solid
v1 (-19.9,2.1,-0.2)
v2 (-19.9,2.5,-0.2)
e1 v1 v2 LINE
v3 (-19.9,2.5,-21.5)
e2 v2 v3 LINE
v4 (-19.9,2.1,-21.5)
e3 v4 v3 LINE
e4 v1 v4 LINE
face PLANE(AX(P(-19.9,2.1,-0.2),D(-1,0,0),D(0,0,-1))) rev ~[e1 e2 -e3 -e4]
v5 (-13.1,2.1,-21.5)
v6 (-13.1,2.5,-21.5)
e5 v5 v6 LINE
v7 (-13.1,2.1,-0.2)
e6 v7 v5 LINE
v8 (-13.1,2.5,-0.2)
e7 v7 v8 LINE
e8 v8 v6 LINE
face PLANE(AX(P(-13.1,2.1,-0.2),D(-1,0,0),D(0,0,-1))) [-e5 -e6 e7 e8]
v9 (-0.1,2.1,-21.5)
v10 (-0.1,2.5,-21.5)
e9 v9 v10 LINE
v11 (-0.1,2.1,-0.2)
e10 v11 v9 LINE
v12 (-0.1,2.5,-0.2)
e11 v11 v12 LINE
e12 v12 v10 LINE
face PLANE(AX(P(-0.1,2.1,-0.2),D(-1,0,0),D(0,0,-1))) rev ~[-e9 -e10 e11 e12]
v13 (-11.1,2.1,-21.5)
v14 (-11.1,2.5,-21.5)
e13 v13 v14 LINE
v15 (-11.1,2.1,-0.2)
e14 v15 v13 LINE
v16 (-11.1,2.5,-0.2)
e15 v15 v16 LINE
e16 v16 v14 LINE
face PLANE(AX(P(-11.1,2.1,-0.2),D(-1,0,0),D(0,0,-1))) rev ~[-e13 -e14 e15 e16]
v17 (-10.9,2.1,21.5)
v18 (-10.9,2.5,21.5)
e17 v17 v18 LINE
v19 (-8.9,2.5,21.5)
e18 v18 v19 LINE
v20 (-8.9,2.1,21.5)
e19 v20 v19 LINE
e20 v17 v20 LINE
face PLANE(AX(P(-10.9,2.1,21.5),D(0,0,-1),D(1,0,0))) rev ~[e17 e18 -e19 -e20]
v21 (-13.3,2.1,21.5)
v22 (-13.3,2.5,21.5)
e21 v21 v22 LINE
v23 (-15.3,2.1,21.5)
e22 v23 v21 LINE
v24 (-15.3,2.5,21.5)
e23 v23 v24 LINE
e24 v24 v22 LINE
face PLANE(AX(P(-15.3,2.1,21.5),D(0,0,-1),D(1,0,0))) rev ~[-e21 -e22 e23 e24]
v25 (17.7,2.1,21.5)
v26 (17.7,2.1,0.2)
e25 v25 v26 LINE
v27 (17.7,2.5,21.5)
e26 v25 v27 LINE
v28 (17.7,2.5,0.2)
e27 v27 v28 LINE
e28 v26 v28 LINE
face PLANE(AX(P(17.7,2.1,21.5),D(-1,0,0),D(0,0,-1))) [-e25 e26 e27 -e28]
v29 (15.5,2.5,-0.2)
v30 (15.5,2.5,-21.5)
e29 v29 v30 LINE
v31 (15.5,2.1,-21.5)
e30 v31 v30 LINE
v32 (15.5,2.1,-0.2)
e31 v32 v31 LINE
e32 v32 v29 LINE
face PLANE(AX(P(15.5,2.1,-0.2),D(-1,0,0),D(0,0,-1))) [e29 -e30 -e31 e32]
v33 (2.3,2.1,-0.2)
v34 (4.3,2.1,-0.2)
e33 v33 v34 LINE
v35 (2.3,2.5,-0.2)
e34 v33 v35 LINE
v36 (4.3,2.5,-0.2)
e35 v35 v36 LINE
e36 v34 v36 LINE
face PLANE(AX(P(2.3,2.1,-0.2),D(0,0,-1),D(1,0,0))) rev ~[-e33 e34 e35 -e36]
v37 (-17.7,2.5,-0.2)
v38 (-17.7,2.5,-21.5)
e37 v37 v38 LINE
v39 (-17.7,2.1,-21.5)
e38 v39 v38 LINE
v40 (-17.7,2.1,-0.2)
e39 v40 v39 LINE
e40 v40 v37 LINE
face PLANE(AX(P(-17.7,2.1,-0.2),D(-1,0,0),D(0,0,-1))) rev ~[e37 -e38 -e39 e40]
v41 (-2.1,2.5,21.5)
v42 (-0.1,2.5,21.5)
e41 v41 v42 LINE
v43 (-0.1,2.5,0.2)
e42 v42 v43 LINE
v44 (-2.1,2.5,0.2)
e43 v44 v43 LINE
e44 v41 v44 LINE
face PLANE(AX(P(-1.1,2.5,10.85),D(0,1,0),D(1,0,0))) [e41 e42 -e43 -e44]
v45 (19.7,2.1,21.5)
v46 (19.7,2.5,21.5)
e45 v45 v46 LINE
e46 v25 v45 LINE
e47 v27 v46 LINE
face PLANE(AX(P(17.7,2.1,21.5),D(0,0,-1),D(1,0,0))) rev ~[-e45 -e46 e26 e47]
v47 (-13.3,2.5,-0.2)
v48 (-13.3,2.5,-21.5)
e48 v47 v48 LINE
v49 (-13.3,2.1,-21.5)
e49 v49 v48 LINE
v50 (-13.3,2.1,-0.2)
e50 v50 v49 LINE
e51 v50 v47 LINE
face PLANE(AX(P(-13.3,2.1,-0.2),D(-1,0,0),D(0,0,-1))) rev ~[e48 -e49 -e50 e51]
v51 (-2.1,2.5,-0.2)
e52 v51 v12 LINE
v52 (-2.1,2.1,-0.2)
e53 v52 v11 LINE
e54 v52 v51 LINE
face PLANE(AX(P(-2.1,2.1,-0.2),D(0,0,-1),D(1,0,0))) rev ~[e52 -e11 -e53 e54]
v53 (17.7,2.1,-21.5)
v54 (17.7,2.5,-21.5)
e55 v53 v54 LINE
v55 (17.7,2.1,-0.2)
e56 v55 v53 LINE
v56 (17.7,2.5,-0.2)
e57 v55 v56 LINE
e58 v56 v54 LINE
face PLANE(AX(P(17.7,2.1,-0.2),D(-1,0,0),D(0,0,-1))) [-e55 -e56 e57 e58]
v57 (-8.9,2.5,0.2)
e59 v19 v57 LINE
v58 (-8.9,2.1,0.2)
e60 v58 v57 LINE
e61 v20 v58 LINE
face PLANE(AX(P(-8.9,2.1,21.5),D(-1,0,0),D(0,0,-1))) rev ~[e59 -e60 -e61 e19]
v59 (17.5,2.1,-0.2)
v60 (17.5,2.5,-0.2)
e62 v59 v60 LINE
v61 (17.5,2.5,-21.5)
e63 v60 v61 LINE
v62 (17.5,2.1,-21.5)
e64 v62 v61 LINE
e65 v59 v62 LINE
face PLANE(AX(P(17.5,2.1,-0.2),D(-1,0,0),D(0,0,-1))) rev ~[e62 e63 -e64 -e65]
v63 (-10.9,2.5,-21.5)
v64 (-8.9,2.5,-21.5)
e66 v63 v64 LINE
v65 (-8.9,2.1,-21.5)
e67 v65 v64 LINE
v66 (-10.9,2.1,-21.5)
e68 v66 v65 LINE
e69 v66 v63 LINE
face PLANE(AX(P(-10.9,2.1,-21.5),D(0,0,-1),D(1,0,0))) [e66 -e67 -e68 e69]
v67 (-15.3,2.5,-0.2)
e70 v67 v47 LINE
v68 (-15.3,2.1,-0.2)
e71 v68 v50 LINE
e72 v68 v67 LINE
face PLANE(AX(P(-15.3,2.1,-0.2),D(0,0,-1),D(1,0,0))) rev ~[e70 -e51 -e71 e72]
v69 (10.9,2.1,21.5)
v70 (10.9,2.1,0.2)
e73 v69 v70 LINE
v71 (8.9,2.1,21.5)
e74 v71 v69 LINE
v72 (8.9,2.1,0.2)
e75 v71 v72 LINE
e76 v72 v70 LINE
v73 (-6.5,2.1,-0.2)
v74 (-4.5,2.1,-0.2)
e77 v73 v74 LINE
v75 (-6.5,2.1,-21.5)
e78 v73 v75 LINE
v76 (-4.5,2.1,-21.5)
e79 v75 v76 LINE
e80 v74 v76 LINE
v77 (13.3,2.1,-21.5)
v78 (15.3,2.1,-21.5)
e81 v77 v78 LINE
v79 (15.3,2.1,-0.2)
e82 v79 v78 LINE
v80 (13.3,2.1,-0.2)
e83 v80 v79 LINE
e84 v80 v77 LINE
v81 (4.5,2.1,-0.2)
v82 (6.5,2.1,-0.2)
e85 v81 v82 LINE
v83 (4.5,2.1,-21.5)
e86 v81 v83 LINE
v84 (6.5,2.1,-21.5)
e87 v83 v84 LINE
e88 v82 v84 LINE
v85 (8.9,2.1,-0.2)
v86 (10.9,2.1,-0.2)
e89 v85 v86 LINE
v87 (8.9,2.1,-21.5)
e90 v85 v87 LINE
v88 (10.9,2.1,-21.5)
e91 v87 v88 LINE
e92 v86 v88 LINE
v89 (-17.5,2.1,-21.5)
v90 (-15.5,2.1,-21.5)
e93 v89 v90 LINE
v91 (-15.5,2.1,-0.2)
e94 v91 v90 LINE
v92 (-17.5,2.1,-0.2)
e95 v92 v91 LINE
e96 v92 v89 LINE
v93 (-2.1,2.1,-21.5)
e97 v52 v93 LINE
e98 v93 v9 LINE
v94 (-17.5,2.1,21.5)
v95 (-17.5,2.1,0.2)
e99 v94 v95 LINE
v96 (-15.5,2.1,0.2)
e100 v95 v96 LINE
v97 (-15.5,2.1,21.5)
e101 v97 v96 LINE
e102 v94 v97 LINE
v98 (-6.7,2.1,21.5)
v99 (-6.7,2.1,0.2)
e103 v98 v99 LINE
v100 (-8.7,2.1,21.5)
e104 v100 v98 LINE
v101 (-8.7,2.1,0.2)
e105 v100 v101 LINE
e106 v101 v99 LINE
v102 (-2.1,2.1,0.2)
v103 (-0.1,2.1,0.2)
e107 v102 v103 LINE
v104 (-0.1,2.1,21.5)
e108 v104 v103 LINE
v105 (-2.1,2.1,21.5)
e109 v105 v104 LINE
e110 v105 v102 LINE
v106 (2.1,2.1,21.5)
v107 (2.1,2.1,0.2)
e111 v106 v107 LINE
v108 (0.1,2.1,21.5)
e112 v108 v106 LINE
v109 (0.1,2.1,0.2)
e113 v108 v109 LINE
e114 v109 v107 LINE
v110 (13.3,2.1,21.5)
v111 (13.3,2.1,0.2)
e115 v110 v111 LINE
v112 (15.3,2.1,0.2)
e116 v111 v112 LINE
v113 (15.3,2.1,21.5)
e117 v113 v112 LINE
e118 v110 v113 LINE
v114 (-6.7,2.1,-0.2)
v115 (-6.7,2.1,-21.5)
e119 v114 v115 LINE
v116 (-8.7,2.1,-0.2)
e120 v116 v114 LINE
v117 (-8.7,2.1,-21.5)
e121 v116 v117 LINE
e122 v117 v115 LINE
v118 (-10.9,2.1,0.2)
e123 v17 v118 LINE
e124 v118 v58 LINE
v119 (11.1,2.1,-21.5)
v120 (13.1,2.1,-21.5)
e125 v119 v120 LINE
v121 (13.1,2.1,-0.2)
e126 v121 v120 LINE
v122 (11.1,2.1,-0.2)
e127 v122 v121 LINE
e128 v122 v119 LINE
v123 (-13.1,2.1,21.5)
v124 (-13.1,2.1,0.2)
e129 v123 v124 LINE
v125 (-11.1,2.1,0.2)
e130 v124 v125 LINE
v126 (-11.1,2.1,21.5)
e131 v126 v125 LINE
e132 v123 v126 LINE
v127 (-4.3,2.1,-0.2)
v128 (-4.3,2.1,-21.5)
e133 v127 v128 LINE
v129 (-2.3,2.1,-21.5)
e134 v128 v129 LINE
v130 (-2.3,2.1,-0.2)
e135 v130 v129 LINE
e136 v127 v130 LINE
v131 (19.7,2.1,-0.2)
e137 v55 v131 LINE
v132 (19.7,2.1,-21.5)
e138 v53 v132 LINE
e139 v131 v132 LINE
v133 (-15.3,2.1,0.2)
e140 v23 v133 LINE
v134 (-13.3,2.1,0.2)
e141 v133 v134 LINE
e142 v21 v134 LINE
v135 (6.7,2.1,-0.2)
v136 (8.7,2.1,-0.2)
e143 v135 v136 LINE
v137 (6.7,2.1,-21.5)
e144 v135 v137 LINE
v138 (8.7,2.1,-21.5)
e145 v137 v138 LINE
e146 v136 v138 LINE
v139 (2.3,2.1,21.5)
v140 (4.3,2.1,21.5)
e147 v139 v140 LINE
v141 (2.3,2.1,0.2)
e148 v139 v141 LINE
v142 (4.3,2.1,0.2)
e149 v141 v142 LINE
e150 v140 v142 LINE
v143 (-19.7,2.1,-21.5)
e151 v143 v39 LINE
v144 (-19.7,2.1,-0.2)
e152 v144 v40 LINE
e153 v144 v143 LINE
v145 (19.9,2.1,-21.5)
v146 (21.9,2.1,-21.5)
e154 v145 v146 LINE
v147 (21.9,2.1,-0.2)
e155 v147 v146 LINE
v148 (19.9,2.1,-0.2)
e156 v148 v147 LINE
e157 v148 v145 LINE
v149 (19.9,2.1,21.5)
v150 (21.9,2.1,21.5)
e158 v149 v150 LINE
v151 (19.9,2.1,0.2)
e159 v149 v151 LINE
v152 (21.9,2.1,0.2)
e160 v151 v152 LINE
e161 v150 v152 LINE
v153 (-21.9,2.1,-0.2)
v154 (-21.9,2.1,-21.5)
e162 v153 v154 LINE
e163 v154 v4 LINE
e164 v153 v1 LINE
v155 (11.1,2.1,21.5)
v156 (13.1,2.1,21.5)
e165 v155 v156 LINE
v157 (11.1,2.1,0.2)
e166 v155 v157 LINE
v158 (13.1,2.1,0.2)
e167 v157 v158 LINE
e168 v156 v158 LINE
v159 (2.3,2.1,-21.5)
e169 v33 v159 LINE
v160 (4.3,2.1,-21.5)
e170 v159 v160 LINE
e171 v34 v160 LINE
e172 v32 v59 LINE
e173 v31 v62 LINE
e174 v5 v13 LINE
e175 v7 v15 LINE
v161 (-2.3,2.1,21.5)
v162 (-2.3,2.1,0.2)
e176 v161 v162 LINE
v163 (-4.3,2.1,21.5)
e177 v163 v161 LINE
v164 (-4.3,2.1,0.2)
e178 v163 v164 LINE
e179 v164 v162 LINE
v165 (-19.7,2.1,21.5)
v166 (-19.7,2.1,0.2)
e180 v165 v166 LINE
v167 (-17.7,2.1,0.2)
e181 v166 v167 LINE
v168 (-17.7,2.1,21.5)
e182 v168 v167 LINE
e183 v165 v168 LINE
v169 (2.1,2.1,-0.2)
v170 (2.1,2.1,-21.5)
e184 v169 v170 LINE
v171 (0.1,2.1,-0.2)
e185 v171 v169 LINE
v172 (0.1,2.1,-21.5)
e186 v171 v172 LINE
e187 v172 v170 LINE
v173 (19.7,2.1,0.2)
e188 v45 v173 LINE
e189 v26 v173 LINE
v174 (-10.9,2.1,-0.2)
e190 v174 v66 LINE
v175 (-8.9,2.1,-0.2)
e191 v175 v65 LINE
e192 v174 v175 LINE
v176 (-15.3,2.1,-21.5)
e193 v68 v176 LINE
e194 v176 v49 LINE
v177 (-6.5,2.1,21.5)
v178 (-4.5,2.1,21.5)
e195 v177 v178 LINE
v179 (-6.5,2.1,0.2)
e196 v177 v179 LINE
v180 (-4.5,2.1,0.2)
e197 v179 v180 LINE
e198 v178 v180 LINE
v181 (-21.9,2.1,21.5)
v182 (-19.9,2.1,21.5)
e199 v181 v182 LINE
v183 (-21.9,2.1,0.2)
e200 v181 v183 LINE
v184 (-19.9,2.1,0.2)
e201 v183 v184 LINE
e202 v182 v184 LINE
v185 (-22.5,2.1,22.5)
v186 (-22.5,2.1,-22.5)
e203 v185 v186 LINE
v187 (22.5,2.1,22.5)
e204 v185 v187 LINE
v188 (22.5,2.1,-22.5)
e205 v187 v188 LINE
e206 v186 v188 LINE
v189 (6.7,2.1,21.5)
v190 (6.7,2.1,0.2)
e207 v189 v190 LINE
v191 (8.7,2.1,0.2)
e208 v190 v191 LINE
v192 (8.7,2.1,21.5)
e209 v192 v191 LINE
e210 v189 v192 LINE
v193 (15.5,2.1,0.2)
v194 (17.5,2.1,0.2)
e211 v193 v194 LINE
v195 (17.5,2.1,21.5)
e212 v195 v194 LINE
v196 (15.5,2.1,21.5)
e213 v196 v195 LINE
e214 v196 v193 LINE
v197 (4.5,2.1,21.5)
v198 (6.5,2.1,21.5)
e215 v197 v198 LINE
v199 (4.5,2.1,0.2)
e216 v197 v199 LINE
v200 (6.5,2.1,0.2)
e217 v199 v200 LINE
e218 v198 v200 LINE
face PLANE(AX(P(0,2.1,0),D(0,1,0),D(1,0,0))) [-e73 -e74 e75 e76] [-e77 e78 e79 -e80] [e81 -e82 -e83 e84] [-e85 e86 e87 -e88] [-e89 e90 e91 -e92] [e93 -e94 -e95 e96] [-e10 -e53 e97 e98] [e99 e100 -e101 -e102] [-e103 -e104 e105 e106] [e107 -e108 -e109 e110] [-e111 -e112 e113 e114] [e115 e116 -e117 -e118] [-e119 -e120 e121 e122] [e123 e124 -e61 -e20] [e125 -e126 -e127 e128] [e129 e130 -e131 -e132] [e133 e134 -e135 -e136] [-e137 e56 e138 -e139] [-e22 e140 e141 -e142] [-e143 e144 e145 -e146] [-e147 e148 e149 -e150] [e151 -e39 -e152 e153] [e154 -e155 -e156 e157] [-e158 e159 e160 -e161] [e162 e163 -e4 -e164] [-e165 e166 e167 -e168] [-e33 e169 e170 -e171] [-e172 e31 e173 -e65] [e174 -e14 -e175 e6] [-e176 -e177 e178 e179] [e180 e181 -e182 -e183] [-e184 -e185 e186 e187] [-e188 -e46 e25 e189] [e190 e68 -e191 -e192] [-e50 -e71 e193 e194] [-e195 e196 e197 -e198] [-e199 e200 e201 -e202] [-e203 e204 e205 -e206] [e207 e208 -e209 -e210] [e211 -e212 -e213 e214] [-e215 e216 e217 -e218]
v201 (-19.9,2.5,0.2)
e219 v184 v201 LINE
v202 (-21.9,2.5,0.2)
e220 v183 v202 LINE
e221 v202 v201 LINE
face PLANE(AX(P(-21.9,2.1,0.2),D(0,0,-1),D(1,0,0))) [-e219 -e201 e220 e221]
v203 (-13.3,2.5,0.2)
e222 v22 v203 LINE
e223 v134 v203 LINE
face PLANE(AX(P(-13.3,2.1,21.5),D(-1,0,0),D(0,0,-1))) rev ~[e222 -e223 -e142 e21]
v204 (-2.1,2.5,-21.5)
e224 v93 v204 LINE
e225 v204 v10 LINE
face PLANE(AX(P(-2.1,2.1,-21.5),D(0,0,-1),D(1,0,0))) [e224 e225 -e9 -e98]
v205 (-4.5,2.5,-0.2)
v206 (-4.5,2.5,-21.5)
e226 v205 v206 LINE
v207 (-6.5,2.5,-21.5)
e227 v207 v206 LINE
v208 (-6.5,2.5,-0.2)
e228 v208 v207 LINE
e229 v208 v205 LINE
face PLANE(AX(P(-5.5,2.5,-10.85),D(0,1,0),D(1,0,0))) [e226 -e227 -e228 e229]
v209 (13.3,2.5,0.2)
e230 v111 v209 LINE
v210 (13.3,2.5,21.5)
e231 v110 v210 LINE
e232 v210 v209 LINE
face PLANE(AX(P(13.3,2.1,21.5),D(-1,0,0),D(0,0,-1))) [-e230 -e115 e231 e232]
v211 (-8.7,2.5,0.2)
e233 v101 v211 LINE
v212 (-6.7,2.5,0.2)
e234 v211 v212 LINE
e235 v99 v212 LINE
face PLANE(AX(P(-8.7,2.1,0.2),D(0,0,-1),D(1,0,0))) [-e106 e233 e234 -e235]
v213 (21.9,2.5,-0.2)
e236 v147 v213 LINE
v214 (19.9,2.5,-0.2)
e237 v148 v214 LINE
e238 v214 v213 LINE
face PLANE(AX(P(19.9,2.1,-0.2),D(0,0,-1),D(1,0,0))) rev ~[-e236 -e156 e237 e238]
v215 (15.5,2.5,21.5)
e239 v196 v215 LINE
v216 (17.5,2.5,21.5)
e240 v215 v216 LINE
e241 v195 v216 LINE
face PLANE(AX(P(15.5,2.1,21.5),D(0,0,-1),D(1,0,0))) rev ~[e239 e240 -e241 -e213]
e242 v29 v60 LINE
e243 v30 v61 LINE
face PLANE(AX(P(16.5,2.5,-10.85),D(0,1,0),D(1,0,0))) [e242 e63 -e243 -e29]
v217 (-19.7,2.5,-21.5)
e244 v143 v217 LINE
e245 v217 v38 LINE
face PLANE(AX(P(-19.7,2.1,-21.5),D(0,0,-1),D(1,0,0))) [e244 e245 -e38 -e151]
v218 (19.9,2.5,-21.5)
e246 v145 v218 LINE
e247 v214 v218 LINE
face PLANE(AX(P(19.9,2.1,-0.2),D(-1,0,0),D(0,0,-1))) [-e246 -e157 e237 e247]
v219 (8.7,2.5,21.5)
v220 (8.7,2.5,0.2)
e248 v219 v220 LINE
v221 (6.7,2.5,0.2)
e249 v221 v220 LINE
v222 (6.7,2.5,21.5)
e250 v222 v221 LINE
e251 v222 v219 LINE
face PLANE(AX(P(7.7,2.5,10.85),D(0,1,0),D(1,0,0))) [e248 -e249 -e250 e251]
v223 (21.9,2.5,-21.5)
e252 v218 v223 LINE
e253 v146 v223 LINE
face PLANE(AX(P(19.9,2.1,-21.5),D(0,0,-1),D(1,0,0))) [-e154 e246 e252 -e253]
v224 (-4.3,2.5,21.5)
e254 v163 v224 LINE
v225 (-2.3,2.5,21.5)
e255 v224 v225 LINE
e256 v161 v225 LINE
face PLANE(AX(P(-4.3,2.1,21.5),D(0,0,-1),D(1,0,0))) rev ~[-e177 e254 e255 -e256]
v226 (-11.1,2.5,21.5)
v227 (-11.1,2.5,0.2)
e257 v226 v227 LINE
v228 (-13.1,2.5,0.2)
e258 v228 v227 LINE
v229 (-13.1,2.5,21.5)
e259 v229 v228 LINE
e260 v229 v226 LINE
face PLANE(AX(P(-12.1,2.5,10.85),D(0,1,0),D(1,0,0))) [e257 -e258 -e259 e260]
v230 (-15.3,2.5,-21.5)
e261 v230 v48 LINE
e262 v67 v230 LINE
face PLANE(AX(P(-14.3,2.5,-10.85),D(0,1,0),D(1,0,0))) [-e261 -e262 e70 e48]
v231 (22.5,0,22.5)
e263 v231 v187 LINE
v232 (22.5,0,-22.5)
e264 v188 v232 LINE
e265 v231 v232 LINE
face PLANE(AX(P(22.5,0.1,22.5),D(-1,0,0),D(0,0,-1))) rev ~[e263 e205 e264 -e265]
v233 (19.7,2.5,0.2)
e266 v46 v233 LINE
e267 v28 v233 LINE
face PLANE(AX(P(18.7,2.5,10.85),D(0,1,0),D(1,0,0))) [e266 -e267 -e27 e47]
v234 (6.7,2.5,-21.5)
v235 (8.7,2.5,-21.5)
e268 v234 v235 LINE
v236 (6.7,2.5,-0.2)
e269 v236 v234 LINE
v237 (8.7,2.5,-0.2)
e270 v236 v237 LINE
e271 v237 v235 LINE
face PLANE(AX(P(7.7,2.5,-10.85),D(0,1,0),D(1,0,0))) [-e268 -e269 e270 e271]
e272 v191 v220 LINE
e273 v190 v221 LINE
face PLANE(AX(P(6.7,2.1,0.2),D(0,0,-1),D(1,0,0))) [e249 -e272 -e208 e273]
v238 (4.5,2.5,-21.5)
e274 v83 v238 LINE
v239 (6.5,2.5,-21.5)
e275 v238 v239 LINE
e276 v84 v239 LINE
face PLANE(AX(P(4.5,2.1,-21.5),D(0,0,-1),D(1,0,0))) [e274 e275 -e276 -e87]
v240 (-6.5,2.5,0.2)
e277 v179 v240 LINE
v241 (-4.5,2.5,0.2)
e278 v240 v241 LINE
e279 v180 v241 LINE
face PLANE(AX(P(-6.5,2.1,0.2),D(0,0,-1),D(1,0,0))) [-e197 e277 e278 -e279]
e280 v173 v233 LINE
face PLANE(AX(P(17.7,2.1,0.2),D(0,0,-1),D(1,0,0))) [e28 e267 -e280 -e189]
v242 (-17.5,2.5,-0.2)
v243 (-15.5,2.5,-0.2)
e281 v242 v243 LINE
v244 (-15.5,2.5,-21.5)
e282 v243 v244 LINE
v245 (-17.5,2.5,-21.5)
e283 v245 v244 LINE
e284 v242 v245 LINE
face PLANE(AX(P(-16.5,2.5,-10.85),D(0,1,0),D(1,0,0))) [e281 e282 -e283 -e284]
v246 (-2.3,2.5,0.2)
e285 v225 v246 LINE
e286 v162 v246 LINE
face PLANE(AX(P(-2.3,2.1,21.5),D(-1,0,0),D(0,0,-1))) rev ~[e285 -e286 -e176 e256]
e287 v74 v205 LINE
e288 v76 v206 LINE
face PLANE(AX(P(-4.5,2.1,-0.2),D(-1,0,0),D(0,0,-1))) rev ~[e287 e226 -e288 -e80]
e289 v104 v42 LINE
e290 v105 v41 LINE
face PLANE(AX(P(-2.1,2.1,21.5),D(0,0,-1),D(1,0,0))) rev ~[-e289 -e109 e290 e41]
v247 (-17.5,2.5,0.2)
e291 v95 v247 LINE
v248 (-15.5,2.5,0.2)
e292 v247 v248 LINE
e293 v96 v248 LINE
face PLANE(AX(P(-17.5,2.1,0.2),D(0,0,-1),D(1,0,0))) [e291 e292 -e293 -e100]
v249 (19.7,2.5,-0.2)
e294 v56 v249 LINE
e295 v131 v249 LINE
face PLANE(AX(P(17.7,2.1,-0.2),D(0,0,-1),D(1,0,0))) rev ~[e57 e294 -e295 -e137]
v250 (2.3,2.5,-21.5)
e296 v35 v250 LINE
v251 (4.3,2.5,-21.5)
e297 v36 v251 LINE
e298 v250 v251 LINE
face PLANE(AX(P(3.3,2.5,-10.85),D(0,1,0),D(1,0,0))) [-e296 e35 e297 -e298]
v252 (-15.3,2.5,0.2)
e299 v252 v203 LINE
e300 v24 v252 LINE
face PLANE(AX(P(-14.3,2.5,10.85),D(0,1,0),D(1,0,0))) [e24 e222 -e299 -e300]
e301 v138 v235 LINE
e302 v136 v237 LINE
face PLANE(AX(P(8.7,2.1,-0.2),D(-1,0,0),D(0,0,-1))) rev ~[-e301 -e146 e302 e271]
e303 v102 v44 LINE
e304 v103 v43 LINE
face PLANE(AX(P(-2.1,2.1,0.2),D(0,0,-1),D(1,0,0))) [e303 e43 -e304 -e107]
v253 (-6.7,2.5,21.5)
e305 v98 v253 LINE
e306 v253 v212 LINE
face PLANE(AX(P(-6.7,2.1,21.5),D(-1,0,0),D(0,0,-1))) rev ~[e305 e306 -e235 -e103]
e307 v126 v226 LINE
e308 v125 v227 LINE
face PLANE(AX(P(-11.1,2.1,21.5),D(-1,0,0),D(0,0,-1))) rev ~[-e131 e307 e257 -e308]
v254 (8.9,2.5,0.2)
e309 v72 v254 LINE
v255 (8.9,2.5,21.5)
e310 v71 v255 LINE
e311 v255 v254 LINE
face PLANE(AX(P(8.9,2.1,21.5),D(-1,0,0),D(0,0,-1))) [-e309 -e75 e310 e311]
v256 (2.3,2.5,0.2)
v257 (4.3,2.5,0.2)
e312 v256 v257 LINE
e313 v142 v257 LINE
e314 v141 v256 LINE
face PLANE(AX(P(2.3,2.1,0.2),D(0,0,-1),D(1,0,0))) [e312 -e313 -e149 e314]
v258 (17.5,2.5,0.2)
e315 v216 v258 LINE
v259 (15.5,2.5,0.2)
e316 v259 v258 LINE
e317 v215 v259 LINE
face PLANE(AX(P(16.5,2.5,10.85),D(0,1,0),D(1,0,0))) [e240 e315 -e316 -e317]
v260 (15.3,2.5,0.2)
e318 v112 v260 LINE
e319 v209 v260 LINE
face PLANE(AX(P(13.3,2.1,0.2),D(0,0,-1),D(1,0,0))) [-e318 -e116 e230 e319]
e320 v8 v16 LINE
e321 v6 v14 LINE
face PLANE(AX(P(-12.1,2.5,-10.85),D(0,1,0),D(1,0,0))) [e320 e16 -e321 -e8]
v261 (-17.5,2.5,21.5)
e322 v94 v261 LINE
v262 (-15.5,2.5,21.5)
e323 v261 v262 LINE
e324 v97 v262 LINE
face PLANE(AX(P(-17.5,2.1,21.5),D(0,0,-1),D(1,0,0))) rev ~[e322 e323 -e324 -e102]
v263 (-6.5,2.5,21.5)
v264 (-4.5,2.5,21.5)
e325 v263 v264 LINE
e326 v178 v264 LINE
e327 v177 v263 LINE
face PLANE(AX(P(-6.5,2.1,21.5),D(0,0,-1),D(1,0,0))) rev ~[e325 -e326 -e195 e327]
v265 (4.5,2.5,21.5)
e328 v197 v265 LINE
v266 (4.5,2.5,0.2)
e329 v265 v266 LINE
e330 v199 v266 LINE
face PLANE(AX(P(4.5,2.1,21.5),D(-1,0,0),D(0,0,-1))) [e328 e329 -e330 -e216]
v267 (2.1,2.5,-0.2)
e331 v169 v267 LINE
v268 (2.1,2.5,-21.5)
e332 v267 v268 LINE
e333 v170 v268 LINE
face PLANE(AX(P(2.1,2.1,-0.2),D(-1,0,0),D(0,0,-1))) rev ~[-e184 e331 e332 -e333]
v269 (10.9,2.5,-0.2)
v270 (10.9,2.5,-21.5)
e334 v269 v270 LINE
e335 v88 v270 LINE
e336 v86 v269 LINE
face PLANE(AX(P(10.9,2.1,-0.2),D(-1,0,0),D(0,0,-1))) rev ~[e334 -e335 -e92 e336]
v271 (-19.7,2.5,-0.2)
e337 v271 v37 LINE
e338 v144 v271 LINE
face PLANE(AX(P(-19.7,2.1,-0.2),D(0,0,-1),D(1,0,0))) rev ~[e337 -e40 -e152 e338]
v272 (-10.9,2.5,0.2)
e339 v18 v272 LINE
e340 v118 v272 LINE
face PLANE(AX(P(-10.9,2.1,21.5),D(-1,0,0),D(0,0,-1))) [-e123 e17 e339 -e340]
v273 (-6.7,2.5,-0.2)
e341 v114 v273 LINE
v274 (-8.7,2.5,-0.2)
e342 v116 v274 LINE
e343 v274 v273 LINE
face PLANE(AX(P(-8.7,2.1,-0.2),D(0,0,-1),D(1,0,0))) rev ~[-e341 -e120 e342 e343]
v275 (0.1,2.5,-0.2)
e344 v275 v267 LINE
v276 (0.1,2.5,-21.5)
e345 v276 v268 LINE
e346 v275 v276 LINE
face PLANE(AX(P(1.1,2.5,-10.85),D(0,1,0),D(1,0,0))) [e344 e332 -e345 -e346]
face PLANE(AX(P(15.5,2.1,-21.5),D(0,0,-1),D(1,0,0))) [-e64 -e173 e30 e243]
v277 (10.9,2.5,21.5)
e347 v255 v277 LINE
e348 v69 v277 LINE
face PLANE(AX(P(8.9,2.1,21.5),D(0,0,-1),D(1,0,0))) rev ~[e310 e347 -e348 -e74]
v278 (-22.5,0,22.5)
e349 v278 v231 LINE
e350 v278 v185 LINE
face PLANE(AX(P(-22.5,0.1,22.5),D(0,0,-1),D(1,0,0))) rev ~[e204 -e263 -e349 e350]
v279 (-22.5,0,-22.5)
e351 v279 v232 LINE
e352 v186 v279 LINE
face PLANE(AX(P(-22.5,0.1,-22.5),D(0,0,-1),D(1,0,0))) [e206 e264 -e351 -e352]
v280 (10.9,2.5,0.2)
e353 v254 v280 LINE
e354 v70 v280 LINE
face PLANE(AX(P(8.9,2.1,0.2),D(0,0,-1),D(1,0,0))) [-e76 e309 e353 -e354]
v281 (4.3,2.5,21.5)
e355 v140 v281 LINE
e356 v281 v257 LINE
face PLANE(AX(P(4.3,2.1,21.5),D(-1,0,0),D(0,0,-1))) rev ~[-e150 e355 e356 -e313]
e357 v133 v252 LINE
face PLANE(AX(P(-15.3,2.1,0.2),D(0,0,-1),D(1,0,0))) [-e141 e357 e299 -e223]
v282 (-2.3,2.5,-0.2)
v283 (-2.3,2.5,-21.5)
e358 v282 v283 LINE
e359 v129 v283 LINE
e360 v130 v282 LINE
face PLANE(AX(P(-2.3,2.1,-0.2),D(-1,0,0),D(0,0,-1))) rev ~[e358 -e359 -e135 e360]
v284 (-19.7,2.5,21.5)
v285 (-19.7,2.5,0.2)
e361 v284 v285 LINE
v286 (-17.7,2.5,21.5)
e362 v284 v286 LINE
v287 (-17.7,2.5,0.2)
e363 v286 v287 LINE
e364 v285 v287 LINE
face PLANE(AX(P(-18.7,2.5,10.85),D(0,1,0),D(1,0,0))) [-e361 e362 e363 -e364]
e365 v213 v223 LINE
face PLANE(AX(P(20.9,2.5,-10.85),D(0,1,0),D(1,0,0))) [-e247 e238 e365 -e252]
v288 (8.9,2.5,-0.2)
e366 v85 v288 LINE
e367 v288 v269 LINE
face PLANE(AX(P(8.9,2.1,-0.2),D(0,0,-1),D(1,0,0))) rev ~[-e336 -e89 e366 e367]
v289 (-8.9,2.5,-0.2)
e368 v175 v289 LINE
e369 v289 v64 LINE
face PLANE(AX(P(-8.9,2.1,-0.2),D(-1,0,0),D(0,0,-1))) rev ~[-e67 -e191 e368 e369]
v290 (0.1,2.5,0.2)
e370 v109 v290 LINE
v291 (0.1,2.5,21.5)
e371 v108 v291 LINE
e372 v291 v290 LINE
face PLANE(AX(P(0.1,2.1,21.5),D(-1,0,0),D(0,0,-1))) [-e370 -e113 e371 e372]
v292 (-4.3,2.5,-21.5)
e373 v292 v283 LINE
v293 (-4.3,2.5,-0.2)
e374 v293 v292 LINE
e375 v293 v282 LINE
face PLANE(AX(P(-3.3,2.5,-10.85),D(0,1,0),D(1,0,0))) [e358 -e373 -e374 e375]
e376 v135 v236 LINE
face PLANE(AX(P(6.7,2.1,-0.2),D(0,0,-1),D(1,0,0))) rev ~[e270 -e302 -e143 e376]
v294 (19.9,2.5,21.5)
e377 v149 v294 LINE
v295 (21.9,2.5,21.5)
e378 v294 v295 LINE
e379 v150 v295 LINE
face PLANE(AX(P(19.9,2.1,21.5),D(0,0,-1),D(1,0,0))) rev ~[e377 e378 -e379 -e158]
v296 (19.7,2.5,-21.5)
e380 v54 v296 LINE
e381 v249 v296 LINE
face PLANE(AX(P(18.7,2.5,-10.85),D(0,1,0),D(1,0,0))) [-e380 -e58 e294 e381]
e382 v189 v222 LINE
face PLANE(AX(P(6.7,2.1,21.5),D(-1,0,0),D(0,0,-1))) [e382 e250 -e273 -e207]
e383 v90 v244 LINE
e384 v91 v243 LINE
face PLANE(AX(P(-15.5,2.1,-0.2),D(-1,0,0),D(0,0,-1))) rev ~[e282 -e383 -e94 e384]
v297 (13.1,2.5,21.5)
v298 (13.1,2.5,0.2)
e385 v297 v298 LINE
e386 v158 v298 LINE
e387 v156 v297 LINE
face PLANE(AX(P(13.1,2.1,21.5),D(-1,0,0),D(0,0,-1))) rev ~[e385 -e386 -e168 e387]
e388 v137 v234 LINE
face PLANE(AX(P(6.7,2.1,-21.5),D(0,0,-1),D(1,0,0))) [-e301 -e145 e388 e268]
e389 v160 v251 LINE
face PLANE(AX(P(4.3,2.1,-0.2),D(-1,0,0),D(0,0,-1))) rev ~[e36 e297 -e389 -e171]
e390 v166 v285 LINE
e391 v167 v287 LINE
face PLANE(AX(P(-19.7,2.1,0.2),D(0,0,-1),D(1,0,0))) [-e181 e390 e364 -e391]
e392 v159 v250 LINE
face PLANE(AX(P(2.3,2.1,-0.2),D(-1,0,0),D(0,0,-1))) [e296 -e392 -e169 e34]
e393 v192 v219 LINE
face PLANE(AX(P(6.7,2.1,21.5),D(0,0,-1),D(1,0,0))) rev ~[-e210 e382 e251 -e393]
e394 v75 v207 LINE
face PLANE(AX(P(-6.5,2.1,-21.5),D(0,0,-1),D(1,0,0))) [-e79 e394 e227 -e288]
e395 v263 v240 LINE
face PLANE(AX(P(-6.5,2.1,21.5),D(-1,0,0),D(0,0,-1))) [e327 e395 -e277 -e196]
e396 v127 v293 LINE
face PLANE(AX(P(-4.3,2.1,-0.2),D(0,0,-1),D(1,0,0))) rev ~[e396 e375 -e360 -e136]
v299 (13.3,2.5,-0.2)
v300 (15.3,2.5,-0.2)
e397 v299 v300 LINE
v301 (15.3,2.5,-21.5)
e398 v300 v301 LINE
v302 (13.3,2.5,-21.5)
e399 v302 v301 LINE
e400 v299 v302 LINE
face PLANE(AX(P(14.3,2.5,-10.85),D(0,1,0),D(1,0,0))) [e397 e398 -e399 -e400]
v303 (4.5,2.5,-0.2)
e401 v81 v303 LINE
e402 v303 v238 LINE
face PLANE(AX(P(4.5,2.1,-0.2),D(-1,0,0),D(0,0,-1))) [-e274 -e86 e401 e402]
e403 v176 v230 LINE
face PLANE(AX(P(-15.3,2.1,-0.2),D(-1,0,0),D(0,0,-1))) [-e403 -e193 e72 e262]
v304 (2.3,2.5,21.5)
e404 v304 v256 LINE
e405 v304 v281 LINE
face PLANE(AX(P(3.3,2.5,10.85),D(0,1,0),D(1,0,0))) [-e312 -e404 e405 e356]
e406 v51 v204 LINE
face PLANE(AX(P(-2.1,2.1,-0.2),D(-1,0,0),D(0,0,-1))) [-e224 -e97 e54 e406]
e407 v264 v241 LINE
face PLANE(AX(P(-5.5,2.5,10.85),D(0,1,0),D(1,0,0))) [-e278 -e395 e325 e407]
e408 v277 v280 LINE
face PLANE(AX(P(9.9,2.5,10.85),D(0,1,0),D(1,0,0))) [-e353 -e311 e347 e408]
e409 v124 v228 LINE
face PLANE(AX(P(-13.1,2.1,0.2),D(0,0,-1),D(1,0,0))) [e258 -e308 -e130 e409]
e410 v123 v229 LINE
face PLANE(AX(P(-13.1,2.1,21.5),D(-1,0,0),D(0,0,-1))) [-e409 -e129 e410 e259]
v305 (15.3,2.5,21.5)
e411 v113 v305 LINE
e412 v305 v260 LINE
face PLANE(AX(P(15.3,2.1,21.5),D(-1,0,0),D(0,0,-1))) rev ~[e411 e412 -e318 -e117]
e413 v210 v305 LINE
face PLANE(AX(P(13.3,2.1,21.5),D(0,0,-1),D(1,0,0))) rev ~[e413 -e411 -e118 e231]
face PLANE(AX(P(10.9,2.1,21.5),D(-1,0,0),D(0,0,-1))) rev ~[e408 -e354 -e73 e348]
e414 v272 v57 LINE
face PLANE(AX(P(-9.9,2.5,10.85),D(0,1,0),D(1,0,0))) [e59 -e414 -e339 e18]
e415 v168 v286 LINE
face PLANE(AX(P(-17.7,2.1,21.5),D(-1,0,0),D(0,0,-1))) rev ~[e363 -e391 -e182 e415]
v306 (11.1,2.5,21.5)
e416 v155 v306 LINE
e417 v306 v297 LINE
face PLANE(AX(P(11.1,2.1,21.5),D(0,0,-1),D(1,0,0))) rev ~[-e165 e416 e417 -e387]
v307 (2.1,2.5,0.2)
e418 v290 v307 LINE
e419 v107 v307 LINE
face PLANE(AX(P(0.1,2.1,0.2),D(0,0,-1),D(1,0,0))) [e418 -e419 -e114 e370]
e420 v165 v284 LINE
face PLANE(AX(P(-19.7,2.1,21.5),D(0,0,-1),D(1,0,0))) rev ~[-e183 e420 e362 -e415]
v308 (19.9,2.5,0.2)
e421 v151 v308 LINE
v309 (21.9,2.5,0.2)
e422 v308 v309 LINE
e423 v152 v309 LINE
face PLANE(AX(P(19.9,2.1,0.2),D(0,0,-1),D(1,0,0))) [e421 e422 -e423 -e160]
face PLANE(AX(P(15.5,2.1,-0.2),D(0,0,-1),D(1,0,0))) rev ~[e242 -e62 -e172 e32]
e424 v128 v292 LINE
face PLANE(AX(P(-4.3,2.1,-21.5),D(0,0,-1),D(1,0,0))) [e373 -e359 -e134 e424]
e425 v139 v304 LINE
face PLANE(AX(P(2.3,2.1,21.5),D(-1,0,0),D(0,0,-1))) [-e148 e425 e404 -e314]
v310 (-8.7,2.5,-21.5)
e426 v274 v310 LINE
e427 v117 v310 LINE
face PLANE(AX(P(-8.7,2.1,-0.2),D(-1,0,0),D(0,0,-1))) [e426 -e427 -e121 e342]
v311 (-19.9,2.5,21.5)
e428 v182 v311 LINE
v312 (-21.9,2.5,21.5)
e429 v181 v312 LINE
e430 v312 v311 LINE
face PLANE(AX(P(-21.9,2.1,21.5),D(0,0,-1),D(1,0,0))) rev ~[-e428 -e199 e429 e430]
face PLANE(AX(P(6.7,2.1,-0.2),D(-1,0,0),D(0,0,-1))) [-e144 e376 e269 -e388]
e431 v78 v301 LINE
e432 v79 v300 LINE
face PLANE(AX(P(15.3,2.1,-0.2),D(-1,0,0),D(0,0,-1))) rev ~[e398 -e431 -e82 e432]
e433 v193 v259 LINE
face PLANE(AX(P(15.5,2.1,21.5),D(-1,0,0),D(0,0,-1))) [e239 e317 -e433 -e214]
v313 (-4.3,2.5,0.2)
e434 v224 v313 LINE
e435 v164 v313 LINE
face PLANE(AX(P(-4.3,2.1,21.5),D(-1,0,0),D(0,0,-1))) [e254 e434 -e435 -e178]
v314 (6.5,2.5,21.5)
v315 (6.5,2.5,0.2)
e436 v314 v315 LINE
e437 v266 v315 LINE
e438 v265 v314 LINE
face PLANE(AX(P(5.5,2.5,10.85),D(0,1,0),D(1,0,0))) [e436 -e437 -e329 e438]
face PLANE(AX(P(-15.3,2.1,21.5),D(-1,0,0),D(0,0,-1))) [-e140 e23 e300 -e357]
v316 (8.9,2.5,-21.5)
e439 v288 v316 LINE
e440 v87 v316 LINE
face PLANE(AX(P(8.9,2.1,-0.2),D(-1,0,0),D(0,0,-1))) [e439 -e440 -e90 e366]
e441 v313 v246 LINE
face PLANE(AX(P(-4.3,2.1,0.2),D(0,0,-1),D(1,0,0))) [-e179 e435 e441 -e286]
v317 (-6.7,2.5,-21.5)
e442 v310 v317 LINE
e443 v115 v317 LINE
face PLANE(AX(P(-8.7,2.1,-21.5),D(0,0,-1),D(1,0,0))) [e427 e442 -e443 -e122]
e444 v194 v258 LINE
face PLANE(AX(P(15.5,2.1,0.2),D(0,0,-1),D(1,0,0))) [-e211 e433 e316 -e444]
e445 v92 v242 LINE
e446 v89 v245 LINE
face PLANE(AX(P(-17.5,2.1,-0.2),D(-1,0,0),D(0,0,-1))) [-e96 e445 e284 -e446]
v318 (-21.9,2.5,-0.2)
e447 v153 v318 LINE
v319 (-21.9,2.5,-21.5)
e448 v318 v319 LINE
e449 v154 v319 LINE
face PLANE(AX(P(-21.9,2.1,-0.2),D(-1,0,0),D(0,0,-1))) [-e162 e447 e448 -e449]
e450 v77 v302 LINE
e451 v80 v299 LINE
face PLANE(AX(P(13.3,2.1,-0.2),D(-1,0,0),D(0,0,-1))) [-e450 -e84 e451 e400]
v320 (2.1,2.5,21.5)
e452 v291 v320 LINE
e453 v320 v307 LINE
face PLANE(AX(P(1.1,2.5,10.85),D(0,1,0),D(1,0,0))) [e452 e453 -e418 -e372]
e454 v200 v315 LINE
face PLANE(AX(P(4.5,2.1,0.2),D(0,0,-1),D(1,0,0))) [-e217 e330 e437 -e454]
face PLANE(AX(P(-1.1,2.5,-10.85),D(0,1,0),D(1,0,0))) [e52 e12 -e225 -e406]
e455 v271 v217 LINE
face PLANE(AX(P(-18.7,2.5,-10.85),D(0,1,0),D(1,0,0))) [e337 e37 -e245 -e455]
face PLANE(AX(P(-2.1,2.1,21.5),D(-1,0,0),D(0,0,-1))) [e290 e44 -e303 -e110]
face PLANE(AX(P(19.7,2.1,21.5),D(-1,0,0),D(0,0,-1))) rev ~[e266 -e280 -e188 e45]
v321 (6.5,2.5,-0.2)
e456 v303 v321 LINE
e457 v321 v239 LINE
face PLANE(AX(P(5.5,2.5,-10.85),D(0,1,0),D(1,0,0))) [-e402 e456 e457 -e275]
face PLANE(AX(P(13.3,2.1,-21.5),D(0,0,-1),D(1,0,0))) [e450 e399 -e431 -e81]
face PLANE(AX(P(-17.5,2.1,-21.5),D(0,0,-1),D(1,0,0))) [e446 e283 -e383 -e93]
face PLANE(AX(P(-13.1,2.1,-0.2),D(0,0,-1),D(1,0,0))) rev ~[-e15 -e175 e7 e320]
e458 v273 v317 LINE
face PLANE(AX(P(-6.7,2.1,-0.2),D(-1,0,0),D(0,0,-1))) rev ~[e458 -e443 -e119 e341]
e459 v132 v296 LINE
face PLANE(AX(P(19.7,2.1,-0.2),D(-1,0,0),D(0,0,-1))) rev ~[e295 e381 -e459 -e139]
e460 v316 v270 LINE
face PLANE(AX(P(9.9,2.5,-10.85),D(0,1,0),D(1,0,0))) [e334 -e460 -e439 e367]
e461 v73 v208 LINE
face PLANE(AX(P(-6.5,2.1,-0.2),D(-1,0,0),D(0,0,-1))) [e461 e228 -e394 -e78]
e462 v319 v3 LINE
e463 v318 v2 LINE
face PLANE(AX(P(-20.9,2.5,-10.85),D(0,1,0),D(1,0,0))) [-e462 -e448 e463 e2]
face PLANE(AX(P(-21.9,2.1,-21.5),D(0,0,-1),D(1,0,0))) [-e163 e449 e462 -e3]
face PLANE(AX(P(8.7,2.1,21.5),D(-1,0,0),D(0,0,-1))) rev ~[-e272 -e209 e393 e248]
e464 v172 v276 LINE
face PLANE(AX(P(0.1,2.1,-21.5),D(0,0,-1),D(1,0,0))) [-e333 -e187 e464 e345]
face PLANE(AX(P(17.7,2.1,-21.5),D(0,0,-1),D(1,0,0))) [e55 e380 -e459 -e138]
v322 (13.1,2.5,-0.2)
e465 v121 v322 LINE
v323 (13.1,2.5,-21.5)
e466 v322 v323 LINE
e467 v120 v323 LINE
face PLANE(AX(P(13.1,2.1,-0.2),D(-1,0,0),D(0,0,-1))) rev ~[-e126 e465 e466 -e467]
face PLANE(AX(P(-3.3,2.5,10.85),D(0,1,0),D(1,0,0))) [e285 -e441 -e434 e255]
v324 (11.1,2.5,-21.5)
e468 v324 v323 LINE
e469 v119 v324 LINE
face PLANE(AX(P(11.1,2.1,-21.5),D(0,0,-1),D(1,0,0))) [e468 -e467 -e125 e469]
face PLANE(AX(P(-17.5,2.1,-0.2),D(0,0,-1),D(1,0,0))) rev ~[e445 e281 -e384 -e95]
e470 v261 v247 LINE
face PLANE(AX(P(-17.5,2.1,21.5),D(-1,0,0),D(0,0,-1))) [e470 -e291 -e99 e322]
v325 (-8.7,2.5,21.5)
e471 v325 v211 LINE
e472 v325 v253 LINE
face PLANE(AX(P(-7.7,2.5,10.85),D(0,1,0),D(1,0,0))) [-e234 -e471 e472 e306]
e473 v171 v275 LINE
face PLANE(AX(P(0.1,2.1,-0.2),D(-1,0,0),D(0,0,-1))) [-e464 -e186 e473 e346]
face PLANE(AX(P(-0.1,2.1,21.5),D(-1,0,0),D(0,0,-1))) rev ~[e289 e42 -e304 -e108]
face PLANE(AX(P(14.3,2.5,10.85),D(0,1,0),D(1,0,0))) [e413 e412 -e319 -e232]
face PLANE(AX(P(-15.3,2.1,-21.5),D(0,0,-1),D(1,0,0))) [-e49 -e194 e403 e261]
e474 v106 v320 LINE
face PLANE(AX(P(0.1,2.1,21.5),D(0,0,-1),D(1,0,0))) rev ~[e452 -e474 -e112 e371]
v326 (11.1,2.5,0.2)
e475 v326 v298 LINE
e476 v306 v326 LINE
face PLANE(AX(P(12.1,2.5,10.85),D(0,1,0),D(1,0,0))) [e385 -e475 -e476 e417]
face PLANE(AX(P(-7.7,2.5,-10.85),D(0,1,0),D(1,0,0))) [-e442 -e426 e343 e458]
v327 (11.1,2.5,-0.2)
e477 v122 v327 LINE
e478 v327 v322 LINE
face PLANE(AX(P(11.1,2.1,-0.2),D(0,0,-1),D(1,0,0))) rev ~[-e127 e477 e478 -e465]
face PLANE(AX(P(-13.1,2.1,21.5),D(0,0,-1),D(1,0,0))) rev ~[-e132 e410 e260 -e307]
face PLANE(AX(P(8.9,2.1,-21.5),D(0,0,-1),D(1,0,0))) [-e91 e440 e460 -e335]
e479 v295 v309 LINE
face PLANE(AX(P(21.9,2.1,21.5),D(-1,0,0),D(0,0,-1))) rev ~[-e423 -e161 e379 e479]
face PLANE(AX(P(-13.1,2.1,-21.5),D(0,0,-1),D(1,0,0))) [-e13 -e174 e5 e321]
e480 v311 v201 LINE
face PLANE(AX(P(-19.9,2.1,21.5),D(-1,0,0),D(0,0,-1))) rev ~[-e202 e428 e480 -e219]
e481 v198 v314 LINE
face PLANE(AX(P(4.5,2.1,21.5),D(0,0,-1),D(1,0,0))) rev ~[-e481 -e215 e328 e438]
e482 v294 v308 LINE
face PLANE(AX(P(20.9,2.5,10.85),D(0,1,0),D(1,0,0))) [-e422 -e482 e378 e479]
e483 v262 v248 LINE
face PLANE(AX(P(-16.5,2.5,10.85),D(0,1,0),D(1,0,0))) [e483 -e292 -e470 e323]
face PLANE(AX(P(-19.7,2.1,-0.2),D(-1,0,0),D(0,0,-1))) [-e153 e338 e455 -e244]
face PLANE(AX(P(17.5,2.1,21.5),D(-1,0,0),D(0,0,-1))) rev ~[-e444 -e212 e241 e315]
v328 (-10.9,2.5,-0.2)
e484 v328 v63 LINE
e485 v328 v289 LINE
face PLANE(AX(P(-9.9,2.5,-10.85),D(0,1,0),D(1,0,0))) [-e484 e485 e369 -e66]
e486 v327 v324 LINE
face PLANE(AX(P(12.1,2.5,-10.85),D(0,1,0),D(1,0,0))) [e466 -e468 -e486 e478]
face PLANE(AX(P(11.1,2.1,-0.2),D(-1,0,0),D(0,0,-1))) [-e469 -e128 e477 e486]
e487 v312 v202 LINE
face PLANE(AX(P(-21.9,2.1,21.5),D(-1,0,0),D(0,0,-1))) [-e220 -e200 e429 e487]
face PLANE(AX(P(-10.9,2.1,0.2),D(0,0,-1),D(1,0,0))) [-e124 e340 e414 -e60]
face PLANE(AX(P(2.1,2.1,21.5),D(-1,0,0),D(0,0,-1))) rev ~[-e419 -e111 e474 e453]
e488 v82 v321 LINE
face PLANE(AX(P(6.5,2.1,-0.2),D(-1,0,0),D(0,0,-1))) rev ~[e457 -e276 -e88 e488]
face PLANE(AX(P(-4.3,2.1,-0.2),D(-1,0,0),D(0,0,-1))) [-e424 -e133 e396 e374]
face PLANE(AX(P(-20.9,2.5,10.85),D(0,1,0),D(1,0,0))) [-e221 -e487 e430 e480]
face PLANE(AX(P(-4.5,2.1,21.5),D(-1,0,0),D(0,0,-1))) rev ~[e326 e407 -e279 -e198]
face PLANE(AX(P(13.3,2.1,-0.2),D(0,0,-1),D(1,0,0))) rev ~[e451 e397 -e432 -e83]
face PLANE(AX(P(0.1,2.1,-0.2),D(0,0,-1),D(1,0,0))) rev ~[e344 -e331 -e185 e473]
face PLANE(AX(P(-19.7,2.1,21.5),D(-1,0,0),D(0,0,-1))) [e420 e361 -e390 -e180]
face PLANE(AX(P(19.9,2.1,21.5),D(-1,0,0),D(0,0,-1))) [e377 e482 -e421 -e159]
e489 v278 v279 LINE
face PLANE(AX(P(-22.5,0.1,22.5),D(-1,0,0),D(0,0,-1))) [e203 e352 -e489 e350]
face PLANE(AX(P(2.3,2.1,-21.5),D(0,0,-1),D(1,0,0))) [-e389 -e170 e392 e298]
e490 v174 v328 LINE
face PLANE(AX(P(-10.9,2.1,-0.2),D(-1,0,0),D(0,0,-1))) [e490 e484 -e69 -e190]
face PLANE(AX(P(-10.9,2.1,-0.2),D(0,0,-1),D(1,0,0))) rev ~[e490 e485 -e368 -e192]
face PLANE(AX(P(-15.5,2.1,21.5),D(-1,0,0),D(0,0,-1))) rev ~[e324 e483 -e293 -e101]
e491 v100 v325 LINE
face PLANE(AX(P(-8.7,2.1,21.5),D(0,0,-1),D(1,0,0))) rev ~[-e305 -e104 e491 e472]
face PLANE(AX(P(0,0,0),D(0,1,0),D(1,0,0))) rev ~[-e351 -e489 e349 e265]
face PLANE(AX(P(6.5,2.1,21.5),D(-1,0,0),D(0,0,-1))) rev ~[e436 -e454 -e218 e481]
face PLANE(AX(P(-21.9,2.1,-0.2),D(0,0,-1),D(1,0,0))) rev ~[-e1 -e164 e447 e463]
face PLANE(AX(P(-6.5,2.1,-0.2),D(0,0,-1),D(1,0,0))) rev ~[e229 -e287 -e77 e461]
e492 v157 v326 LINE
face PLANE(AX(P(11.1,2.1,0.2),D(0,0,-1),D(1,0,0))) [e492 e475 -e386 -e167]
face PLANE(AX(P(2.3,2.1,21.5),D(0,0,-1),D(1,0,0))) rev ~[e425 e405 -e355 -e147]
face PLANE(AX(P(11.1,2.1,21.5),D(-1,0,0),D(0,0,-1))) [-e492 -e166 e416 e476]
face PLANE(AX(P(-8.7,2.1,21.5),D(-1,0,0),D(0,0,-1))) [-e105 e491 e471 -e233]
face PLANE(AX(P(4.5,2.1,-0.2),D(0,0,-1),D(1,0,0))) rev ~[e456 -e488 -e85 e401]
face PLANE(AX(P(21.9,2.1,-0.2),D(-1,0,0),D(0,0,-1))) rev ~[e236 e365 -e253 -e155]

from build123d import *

# Parameters (mm, degrees)
SKETCH1_W           = 45
SKETCH1_H           = 45
BOSS_EXTRUDE1_DEPTH = 0.1
SKETCH2_W           = 45
SKETCH2_H           = 45
BOSS_EXTRUDE2_DEPTH = 2
SKETCH5_W           = 2
SKETCH5_H           = 21.3
BOSS_EXTRUDE3_DEPTH = 0.4


with BuildPart() as part:
    # Sketch1 → Boss-Extrude1 (new body)
    with BuildSketch(Plane(origin=(0, 0, 0), x_dir=(1, 0, 0), z_dir=(0, 1, 0))):
        Rectangle(SKETCH1_W, SKETCH1_H)
    extrude(amount=BOSS_EXTRUDE1_DEPTH)

    # Sketch2 → Boss-Extrude2 (add)
    with BuildSketch(Plane(origin=(0, 0.1, 0), x_dir=(1, 0, 0), z_dir=(0, 1, 0))):
        Rectangle(SKETCH2_W, SKETCH2_H)
    extrude(amount=BOSS_EXTRUDE2_DEPTH)

    # Sketch5 → Boss-Extrude3 (add)
    with BuildSketch(Plane(origin=(0, 2.1, 0), x_dir=(1, 0, 0), z_dir=(0, 1, 0))):
        with Locations((-20.9, 10.85)):
            Rectangle(SKETCH5_W, SKETCH5_H)
        with Locations((-18.7, 10.85)):
            Rectangle(SKETCH5_W, SKETCH5_H)
        with Locations((-16.5, 10.85)):
            Rectangle(SKETCH5_W, SKETCH5_H)
        with Locations((-14.3, 10.85)):
            Rectangle(SKETCH5_W, SKETCH5_H)
        with Locations((-12.1, 10.85)):
            Rectangle(SKETCH5_W, SKETCH5_H)
        with Locations((-9.9, 10.85)):
            Rectangle(SKETCH5_W, SKETCH5_H)
        with Locations((-7.7, 10.85)):
            Rectangle(SKETCH5_W, SKETCH5_H)
        with Locations((-5.5, 10.85)):
            Rectangle(SKETCH5_W, SKETCH5_H)
        with Locations((-3.3, 10.85)):
            Rectangle(SKETCH5_W, SKETCH5_H)
        with Locations((-1.1, 10.85)):
            Rectangle(SKETCH5_W, SKETCH5_H)
        with Locations((1.1, 10.85)):
            Rectangle(SKETCH5_W, SKETCH5_H)
        with Locations((3.3, 10.85)):
            Rectangle(SKETCH5_W, SKETCH5_H)
        with Locations((7.7, 10.85)):
            Rectangle(SKETCH5_W, SKETCH5_H)
        with Locations((9.9, 10.85)):
            Rectangle(SKETCH5_W, SKETCH5_H)
        with Locations((12.1, 10.85)):
            Rectangle(SKETCH5_W, SKETCH5_H)
        with Locations((14.3, 10.85)):
            Rectangle(SKETCH5_W, SKETCH5_H)
        with Locations((16.5, 10.85)):
            Rectangle(SKETCH5_W, SKETCH5_H)
        with Locations((18.7, 10.85)):
            Rectangle(SKETCH5_W, SKETCH5_H)
        with Locations((20.9, 10.85)):
            Rectangle(SKETCH5_W, SKETCH5_H)
        with Locations((20.9, -10.85)):
            Rectangle(SKETCH5_W, SKETCH5_H)
        with Locations((14.3, -10.85)):
            Rectangle(SKETCH5_W, SKETCH5_H)
        with Locations((12.1, -10.85)):
            Rectangle(SKETCH5_W, SKETCH5_H)
        with Locations((9.9, -10.85)):
            Rectangle(SKETCH5_W, SKETCH5_H)
        with Locations((7.7, -10.85)):
            Rectangle(SKETCH5_W, SKETCH5_H)
        with Locations((5.5, -10.85)):
            Rectangle(SKETCH5_W, SKETCH5_H)
        with Locations((1.1, -10.85)):
            Rectangle(SKETCH5_W, SKETCH5_H)
        with Locations((-1.1, -10.85)):
            Rectangle(SKETCH5_W, SKETCH5_H)
        with Locations((-3.3, -10.85)):
            Rectangle(SKETCH5_W, SKETCH5_H)
        with Locations((-5.5, -10.85)):
            Rectangle(SKETCH5_W, SKETCH5_H)
        with Locations((-7.7, -10.85)):
            Rectangle(SKETCH5_W, SKETCH5_H)
        with Locations((-9.9, -10.85)):
            Rectangle(SKETCH5_W, SKETCH5_H)
        with Locations((-12.1, -10.85)):
            Rectangle(SKETCH5_W, SKETCH5_H)
        with Locations((-14.3, -10.85)):
            Rectangle(SKETCH5_W, SKETCH5_H)
        with Locations((-16.5, -10.85)):
            Rectangle(SKETCH5_W, SKETCH5_H)
        with Locations((-18.7, -10.85)):
            Rectangle(SKETCH5_W, SKETCH5_H)
        with Locations((-20.9, -10.85)):
            Rectangle(SKETCH5_W, SKETCH5_H)
        with Locations((5.5, 10.85)):
            Rectangle(SKETCH5_W, SKETCH5_H)
        with Locations((18.7, -10.85)):
            Rectangle(SKETCH5_W, SKETCH5_H)
        with Locations((16.5, -10.85)):
            Rectangle(SKETCH5_W, SKETCH5_H)
        with Locations((3.3, -10.85)):
            Rectangle(SKETCH5_W, SKETCH5_H)
    extrude(amount=BOSS_EXTRUDE3_DEPTH)


solid = part.part
